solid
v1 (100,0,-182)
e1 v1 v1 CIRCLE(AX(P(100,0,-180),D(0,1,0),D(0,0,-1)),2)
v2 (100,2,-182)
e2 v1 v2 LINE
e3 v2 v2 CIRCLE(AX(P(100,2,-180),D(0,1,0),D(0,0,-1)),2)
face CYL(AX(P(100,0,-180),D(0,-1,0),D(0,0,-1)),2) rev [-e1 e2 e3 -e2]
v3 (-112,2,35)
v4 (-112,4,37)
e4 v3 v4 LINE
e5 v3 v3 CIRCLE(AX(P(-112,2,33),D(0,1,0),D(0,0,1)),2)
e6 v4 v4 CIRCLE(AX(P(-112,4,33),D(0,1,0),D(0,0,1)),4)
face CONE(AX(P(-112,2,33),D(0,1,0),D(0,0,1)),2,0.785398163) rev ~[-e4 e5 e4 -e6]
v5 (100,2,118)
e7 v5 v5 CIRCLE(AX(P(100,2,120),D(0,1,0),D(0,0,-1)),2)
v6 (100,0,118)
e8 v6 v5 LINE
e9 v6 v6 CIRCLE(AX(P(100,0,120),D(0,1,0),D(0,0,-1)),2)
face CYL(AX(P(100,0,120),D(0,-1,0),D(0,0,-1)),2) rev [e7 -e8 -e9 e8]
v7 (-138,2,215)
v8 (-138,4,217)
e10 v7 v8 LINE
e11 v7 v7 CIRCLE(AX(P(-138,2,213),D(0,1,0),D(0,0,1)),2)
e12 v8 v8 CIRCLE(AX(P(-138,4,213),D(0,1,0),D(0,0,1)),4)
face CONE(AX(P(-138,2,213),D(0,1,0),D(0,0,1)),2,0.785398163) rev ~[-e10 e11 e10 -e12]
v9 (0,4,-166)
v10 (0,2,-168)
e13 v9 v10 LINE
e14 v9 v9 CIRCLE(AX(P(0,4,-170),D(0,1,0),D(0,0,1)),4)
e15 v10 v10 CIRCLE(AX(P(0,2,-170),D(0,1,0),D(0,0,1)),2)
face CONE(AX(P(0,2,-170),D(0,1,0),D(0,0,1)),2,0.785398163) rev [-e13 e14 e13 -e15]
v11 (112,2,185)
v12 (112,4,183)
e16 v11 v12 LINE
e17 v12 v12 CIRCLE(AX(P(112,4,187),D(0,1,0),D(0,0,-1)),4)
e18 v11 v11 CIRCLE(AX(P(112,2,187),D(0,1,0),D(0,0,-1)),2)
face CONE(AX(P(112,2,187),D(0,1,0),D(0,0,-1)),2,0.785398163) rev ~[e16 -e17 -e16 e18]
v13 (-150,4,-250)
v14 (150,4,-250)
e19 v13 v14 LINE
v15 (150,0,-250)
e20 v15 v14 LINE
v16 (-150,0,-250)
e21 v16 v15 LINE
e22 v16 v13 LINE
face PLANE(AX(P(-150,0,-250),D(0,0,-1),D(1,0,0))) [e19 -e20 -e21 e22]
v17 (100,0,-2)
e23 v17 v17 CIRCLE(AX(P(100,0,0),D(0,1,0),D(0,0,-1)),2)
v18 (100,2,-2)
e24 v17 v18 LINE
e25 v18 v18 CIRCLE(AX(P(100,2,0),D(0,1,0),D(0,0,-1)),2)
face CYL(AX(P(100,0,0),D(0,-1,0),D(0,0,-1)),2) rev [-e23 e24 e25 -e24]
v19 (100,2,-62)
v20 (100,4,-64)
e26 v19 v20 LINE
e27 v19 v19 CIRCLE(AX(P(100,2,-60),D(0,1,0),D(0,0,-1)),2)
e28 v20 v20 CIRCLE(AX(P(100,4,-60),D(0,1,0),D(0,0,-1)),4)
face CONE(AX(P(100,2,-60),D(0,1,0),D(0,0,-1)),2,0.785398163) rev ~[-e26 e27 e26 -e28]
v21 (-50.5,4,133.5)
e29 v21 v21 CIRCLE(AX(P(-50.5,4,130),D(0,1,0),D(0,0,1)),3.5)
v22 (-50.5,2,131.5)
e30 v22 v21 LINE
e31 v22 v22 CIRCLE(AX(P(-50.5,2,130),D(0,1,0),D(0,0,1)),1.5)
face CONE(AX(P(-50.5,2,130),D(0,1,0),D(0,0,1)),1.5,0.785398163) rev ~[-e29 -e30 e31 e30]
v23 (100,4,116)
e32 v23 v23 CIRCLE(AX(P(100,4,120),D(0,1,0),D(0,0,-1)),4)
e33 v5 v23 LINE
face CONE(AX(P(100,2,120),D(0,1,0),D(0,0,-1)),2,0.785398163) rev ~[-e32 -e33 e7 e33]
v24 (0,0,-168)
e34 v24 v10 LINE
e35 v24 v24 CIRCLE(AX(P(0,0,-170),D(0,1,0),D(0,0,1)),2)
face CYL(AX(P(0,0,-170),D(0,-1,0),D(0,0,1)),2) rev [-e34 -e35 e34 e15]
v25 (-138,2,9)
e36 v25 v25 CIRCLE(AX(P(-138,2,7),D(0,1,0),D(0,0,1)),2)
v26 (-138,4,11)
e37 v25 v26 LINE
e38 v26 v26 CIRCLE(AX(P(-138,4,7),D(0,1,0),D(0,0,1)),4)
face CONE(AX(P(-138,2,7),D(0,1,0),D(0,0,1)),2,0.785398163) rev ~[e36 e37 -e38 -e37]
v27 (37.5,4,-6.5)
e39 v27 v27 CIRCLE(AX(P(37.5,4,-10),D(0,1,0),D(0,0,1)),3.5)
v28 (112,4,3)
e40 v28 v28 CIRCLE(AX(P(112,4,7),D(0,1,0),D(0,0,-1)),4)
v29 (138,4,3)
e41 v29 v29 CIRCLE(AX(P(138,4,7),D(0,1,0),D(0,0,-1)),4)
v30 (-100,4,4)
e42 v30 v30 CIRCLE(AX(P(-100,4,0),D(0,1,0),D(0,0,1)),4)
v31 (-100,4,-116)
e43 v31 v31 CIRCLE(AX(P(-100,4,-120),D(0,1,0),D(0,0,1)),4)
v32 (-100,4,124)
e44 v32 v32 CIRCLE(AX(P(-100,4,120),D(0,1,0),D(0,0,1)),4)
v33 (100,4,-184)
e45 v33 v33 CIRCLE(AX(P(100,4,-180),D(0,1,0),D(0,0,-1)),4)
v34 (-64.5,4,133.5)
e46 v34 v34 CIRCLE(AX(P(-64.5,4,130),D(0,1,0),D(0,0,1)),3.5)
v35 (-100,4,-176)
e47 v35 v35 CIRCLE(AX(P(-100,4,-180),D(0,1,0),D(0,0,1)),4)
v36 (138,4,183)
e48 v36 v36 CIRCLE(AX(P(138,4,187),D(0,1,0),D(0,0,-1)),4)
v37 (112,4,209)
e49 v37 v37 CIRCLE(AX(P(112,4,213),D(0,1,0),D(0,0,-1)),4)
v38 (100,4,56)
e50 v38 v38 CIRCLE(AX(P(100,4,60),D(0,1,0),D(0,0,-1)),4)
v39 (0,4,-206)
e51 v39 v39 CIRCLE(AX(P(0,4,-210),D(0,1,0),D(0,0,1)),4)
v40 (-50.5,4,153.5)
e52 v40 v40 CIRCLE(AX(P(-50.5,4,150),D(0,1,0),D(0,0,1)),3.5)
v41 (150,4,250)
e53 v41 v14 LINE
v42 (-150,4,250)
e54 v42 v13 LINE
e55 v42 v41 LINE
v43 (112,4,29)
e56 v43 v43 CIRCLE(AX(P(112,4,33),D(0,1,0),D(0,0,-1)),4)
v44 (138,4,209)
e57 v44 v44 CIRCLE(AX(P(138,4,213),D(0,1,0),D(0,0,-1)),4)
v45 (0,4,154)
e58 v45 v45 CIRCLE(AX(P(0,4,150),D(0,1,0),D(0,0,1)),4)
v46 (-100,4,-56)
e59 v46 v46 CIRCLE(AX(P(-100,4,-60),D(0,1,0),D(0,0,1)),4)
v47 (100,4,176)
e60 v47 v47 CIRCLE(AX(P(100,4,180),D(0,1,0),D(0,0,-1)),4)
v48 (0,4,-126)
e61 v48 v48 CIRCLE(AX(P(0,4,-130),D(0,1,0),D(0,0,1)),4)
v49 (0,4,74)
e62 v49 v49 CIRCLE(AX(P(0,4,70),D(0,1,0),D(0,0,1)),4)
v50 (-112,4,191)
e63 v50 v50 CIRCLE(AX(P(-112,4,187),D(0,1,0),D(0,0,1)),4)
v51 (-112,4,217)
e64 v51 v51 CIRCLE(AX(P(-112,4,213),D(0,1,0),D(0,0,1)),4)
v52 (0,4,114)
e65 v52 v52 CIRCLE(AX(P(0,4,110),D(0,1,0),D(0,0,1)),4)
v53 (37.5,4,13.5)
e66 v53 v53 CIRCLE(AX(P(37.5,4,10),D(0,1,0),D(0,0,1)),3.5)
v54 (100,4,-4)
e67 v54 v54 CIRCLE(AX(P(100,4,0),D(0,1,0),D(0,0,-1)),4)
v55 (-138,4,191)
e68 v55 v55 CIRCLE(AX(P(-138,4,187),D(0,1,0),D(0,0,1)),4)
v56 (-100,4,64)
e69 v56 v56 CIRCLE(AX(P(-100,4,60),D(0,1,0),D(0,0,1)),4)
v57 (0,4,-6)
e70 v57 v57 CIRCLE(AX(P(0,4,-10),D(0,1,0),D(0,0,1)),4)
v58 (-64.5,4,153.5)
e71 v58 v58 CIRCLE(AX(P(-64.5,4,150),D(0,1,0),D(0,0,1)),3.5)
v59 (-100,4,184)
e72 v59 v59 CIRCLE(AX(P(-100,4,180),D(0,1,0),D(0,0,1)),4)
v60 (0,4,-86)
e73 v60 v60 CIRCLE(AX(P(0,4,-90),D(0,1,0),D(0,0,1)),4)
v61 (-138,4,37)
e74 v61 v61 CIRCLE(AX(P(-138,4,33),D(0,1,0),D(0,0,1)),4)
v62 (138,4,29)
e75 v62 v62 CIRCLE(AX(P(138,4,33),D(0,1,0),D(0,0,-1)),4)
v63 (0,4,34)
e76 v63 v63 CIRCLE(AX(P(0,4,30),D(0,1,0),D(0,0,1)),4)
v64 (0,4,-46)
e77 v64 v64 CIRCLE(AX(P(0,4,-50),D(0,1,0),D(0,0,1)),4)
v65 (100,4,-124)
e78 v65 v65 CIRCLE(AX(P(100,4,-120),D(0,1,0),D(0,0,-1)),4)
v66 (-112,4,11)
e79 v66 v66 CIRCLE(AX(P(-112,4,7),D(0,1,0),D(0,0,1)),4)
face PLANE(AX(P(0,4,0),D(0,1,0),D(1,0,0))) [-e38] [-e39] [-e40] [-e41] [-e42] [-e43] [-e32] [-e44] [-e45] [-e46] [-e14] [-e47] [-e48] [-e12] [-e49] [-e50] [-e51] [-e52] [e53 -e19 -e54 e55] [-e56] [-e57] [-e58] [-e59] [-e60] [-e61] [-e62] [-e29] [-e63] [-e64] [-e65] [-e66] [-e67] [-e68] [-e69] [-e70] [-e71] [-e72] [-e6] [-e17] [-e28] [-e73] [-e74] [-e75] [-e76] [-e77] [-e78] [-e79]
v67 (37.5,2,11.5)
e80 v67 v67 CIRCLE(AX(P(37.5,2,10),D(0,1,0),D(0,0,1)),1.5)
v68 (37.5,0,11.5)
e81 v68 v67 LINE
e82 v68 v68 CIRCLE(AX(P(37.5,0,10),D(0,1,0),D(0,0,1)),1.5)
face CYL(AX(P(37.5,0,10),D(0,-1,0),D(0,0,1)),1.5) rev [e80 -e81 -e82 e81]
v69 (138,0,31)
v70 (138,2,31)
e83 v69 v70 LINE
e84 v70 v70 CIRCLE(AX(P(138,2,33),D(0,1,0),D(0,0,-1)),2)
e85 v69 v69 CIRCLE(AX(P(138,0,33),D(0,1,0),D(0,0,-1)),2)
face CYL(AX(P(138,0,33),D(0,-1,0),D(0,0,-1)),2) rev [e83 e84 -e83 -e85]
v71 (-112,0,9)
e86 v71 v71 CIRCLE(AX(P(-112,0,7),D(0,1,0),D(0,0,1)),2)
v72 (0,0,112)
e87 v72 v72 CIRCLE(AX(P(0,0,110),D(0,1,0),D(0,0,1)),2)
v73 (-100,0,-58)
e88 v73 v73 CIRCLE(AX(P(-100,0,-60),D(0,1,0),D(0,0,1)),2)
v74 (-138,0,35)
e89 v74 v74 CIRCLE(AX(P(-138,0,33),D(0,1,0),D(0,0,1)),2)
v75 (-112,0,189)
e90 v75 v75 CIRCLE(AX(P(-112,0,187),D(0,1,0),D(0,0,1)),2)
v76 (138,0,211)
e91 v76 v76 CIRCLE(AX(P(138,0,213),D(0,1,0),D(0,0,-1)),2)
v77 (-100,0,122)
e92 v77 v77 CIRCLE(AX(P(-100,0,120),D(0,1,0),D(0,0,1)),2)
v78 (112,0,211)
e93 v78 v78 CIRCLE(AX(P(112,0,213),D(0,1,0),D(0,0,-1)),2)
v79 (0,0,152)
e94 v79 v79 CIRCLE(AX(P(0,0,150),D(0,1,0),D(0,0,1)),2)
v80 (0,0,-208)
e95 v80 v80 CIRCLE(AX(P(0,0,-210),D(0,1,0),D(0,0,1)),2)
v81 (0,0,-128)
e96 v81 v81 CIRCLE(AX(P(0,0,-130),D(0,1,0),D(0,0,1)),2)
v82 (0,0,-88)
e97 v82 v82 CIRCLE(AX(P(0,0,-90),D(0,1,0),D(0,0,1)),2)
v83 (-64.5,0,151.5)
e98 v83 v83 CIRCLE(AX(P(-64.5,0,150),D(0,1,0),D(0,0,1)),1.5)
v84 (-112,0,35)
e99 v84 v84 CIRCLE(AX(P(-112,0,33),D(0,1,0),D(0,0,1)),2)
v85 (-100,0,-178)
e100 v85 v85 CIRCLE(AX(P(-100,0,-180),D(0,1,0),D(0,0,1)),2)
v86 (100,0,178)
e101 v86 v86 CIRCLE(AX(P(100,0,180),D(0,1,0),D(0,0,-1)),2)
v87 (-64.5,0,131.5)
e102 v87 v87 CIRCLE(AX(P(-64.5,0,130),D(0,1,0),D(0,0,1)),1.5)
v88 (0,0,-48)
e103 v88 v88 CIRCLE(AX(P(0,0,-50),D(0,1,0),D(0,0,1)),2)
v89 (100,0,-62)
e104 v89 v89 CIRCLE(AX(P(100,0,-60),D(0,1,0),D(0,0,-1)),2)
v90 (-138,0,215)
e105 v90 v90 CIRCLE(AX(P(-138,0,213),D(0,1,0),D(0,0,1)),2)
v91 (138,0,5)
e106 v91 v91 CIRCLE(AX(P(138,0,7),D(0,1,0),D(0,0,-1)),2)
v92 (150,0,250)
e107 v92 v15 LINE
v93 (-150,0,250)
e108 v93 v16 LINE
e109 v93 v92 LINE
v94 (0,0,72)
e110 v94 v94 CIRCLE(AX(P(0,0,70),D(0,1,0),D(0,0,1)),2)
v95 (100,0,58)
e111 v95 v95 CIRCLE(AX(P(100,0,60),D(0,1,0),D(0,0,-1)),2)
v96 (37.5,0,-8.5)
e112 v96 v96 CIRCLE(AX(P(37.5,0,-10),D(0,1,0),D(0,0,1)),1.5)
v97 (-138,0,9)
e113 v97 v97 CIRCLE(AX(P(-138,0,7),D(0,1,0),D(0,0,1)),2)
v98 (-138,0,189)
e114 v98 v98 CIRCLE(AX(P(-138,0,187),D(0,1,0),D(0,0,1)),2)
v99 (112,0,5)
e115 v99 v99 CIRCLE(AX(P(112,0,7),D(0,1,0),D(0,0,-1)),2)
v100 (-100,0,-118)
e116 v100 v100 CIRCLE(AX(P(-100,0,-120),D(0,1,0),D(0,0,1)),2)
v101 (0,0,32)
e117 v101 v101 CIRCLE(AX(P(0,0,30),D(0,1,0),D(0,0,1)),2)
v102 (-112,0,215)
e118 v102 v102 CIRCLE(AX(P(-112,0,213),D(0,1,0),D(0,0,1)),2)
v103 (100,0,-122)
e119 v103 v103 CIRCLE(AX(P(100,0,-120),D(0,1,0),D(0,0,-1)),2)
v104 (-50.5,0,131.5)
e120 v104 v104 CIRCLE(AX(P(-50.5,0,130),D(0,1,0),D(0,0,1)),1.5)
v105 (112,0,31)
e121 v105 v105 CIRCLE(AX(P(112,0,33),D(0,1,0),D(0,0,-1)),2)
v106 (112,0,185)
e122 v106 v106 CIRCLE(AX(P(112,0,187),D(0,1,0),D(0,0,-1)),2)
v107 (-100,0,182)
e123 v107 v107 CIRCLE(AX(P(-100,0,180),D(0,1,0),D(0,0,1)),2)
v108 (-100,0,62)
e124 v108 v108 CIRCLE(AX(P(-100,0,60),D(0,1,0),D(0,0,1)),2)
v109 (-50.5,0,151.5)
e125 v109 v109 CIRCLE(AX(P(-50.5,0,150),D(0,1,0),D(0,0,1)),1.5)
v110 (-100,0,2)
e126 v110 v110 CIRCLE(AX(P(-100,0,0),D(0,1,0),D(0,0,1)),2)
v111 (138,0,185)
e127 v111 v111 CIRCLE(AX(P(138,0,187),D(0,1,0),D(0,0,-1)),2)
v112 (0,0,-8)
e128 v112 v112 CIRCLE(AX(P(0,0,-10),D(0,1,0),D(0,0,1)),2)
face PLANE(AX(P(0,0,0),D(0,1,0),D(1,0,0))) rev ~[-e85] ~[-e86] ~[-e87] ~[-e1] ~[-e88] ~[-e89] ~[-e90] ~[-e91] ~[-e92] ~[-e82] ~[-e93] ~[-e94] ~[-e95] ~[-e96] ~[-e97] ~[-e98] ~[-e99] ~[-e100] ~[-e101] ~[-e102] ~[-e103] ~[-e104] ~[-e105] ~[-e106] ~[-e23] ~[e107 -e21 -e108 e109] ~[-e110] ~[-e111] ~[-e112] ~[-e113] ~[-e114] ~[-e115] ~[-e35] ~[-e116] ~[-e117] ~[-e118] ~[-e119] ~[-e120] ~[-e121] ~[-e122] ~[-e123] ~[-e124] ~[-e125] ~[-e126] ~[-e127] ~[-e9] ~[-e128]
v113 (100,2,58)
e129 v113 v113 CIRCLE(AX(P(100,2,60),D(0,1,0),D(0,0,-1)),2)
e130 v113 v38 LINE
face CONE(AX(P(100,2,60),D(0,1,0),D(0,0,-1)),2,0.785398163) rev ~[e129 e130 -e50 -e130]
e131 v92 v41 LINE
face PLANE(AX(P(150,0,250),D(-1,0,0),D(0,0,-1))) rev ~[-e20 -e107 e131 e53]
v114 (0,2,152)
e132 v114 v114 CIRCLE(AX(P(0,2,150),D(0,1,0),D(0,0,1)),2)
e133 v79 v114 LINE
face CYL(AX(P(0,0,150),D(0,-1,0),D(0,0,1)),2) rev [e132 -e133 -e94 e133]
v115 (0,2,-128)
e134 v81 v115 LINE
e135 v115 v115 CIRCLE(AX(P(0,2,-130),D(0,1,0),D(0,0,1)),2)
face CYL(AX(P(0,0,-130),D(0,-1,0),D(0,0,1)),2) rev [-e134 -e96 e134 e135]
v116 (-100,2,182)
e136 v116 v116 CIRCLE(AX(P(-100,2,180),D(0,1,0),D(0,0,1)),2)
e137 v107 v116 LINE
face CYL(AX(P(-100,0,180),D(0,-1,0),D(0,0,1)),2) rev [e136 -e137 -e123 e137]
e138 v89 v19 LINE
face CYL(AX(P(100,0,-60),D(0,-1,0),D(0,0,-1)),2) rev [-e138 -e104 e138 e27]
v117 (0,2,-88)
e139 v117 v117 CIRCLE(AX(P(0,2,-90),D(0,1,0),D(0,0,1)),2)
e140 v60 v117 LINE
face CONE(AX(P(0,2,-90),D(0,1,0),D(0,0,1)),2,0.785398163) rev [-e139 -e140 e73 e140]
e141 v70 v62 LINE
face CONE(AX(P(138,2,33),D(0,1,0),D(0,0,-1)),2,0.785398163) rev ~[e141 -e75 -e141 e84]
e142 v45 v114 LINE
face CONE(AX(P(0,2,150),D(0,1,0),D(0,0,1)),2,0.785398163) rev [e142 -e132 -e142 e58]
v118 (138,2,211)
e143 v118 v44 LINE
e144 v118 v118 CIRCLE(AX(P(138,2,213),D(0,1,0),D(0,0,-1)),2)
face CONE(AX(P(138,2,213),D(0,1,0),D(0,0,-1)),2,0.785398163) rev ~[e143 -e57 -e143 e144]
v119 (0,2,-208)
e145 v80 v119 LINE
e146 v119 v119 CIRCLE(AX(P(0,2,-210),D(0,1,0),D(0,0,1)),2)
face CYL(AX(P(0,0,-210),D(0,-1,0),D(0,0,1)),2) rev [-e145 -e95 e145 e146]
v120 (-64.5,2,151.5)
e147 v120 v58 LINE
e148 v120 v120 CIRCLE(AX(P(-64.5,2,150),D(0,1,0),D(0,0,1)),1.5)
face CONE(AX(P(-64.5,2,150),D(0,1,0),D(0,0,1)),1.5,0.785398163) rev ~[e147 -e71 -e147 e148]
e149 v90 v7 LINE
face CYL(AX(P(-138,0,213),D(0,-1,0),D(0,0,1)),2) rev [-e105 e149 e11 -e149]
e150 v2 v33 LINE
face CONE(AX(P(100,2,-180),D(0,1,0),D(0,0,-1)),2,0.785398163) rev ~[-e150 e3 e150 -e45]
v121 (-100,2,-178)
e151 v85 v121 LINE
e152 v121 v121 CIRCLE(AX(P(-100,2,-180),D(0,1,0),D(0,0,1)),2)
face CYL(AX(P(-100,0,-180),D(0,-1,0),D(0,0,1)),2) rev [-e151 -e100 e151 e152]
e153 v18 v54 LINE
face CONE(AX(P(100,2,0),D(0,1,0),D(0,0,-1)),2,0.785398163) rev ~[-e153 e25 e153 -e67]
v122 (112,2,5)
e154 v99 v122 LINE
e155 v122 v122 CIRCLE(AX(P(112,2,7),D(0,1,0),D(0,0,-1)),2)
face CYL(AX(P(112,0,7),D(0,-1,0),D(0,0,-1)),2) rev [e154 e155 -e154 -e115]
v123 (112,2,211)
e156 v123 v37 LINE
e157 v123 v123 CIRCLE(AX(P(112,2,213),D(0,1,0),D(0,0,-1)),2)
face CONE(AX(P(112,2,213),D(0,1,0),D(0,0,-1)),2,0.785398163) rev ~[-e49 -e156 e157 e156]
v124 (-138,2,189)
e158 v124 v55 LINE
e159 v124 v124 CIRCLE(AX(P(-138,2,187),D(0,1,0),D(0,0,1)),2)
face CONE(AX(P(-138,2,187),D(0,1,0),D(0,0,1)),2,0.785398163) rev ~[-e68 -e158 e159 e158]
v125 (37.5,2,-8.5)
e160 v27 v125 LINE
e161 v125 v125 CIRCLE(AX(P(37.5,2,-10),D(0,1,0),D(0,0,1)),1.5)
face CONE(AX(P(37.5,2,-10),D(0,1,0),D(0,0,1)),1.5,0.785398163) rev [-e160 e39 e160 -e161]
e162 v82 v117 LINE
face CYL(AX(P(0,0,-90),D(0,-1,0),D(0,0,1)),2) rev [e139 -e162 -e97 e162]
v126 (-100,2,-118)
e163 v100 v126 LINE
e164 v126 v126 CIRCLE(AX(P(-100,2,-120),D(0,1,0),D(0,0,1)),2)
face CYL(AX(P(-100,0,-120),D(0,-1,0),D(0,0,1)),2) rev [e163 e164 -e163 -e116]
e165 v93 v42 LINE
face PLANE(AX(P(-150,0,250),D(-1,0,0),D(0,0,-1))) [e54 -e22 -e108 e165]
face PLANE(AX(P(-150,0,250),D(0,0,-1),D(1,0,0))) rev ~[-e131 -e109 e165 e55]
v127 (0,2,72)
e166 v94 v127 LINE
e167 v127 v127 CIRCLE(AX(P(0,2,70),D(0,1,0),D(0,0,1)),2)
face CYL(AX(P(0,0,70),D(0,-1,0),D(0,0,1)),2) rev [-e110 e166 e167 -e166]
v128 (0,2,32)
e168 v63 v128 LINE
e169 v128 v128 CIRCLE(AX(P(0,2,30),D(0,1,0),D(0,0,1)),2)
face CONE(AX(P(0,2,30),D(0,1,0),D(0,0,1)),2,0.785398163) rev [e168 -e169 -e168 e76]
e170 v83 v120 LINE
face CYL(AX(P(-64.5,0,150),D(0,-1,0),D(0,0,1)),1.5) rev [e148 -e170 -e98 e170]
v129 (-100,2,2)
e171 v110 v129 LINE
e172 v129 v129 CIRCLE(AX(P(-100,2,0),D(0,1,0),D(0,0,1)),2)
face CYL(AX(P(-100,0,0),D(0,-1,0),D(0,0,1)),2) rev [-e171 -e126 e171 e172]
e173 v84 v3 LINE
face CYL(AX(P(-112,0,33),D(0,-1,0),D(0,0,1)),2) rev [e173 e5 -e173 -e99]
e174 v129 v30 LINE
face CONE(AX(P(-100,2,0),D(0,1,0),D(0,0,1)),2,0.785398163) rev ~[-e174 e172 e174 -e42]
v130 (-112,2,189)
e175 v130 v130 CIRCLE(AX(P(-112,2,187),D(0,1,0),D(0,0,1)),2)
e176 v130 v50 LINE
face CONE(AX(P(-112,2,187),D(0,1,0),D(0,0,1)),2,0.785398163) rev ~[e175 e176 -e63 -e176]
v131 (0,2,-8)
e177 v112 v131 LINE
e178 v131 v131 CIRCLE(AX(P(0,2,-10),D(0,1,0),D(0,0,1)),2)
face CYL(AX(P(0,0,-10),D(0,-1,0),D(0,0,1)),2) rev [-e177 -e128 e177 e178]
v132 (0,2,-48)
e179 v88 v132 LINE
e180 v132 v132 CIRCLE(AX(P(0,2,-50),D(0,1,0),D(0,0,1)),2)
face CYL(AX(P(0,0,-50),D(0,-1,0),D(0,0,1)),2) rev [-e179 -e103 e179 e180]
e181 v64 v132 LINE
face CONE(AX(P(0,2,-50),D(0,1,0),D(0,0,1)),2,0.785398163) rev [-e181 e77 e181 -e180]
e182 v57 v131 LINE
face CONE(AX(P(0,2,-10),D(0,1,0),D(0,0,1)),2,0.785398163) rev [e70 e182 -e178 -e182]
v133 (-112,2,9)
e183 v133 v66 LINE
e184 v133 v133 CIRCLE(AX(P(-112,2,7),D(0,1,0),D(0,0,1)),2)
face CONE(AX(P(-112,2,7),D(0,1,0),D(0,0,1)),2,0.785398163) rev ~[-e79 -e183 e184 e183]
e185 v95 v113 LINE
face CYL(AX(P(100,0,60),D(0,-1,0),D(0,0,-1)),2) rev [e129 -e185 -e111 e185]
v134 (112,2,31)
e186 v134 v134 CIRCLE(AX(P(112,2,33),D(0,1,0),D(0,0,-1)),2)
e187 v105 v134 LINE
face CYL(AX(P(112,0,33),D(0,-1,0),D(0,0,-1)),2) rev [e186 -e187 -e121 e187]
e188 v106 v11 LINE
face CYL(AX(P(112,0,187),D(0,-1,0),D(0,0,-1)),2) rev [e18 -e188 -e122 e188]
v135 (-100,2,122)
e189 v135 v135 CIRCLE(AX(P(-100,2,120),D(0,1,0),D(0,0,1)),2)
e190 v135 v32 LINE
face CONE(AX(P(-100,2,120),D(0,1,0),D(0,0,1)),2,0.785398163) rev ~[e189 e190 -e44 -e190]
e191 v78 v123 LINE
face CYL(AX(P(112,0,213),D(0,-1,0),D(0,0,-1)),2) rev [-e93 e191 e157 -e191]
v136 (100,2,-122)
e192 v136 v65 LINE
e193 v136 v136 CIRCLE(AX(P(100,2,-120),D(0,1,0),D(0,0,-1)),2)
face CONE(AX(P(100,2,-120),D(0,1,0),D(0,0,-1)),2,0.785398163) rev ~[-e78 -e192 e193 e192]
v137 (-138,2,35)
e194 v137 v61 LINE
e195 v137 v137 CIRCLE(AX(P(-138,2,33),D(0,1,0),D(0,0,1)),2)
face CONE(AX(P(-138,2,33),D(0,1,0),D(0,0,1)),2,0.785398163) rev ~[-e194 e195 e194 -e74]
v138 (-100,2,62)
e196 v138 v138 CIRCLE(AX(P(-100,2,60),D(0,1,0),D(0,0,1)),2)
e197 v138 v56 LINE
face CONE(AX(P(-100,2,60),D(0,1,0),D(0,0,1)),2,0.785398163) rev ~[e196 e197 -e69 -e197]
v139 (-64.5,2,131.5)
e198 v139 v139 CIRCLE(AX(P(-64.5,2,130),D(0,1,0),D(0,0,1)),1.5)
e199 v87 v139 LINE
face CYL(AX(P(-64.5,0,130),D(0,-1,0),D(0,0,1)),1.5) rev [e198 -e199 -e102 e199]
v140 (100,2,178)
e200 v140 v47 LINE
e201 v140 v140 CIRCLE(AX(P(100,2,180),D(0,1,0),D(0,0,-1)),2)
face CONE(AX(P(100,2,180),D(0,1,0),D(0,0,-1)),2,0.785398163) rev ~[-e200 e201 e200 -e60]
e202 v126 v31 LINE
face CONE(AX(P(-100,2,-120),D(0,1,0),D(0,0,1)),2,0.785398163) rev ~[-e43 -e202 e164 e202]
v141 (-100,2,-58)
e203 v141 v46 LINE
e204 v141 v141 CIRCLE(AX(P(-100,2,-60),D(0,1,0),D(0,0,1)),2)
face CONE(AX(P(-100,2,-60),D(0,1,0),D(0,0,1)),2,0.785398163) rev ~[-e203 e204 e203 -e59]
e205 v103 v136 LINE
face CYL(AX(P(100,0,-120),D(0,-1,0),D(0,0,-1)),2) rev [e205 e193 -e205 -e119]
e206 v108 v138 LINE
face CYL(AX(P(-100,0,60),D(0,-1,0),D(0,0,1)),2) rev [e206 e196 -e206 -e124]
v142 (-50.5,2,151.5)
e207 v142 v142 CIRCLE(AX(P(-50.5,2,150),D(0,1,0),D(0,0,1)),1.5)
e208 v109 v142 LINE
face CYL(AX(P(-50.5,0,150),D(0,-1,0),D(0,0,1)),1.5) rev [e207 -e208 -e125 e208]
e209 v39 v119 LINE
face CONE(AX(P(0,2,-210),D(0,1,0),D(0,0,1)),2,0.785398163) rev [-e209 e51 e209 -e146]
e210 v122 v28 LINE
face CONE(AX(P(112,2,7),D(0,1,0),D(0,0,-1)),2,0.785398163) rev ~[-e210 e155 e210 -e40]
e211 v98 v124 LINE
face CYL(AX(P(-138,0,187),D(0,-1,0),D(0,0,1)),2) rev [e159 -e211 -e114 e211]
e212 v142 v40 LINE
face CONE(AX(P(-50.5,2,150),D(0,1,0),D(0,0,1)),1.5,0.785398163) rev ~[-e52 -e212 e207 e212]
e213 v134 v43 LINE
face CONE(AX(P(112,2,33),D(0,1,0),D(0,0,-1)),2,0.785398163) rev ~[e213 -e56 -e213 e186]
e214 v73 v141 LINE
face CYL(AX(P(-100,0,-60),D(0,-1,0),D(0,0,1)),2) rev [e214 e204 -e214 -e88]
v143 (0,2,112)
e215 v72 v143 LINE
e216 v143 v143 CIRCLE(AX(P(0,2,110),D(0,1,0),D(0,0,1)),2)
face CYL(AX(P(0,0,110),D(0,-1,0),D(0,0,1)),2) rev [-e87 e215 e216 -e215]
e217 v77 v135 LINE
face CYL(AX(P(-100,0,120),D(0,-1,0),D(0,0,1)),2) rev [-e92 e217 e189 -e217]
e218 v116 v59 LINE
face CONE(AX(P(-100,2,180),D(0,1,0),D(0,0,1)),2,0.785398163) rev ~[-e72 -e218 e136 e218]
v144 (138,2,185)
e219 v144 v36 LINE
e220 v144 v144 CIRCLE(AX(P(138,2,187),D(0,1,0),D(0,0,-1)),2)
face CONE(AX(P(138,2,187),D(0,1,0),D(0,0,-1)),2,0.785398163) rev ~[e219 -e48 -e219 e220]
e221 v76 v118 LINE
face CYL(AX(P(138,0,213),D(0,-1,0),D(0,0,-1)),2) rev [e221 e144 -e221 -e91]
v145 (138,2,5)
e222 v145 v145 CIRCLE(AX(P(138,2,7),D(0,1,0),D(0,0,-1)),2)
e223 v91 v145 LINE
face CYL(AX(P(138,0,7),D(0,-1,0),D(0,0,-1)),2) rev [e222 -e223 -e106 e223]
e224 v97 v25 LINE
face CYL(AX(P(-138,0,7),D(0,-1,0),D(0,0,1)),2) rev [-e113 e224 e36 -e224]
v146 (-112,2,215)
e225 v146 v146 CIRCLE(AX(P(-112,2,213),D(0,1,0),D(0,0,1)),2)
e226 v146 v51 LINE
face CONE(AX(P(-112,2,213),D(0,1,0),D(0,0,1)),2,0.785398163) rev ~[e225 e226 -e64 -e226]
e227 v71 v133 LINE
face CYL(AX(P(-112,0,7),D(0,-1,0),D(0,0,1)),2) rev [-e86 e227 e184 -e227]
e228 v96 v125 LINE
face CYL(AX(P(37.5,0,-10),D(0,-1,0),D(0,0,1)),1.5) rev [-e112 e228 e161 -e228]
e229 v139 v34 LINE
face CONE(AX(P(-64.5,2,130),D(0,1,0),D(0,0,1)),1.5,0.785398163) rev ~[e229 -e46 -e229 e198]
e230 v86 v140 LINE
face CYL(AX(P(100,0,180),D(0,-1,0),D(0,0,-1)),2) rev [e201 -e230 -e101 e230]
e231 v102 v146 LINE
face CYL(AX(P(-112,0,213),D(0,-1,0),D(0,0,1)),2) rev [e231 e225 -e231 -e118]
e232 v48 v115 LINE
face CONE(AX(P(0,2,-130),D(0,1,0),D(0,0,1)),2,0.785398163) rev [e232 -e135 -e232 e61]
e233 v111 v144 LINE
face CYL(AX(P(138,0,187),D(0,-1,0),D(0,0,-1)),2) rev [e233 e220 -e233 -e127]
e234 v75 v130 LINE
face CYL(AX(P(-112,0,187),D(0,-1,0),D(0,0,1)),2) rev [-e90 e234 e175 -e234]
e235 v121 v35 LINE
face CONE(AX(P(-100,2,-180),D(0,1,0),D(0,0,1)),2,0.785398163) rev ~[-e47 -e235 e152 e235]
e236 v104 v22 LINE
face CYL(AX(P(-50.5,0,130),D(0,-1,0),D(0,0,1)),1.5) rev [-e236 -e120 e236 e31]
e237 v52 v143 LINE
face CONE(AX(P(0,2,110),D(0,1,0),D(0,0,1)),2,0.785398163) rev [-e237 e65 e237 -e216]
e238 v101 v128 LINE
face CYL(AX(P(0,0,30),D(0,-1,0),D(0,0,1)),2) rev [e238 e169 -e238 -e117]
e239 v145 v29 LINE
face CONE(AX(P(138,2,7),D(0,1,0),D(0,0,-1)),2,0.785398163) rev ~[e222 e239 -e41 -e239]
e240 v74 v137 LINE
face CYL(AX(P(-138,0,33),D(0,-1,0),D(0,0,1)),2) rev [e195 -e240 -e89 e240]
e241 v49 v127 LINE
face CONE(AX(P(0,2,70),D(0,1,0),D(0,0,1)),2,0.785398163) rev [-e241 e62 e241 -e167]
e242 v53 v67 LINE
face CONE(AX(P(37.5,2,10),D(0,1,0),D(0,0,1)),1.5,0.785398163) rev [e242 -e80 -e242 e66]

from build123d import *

# Parameters (mm, degrees)
SKETCH_1_W      = 300
SKETCH_1_H      = 500
SKETCH_1_R      = 2
SKETCH_1_R_2    = 1.5
EXTRUDE_1_DEPTH = 4
CHAMFER_1_SIZE  = 2
CHAMFER_2_SIZE  = 2


with BuildPart() as part:
    # 草图1 → 凸台-拉伸1 (new body)
    with BuildSketch(Plane(origin=(0, 0, 0), x_dir=(1, 0, 0), z_dir=(0, 1, 0))):
        Rectangle(SKETCH_1_W, SKETCH_1_H)
        with Locations(Location((-138, -213, 0), (0, 0, 270))):
            Circle(SKETCH_1_R, mode=Mode.SUBTRACT)
        with Locations(Location((-112, -213, 0), (0, 0, 270))):
            Circle(SKETCH_1_R, mode=Mode.SUBTRACT)
        with Locations(Location((-138, -187, 0), (0, 0, 270))):
            Circle(SKETCH_1_R, mode=Mode.SUBTRACT)
        with Locations(Location((-112, -187, 0), (0, 0, 270))):
            Circle(SKETCH_1_R, mode=Mode.SUBTRACT)
        with Locations(Location((-112, -33, 0), (0, 0, 270))):
            Circle(SKETCH_1_R, mode=Mode.SUBTRACT)
        with Locations(Location((-138, -7, 0), (0, 0, 270))):
            Circle(SKETCH_1_R, mode=Mode.SUBTRACT)
        with Locations(Location((-138, -33, 0), (0, 0, 270))):
            Circle(SKETCH_1_R, mode=Mode.SUBTRACT)
        with Locations(Location((-112, -7, 0), (0, 0, 270))):
            Circle(SKETCH_1_R, mode=Mode.SUBTRACT)
        with Locations(Location((112, -7, 0), (0, 0, 90))):
            Circle(SKETCH_1_R, mode=Mode.SUBTRACT)
        with Locations(Location((138, -33, 0), (0, 0, 90))):
            Circle(SKETCH_1_R, mode=Mode.SUBTRACT)
        with Locations(Location((138, -7, 0), (0, 0, 90))):
            Circle(SKETCH_1_R, mode=Mode.SUBTRACT)
        with Locations(Location((112, -33, 0), (0, 0, 90))):
            Circle(SKETCH_1_R, mode=Mode.SUBTRACT)
        with Locations(Location((112, -187, 0), (0, 0, 90))):
            Circle(SKETCH_1_R, mode=Mode.SUBTRACT)
        with Locations(Location((138, -187, 0), (0, 0, 90))):
            Circle(SKETCH_1_R, mode=Mode.SUBTRACT)
        with Locations(Location((112, -213, 0), (0, 0, 90))):
            Circle(SKETCH_1_R, mode=Mode.SUBTRACT)
        with Locations(Location((138, -213, 0), (0, 0, 90))):
            Circle(SKETCH_1_R, mode=Mode.SUBTRACT)
        with Locations(Location((-64.5, -130, 0), (0, 0, 270))):
            Circle(SKETCH_1_R_2, mode=Mode.SUBTRACT)
        with Locations(Location((-50.5, -130, 0), (0, 0, 270))):
            Circle(SKETCH_1_R_2, mode=Mode.SUBTRACT)
        with Locations(Location((-64.5, -150, 0), (0, 0, 270))):
            Circle(SKETCH_1_R_2, mode=Mode.SUBTRACT)
        with Locations(Location((-50.5, -150, 0), (0, 0, 270))):
            Circle(SKETCH_1_R_2, mode=Mode.SUBTRACT)
        with Locations(Location((-100, -180, 0), (0, 0, 270))):
            Circle(SKETCH_1_R, mode=Mode.SUBTRACT)
        with Locations(Location((-100, -120, 0), (0, 0, 270))):
            Circle(SKETCH_1_R, mode=Mode.SUBTRACT)
        with Locations(Location((-100, -60, 0), (0, 0, 270))):
            Circle(SKETCH_1_R, mode=Mode.SUBTRACT)
        with Locations(Location((-100, 0, 0), (0, 0, 270))):
            Circle(SKETCH_1_R, mode=Mode.SUBTRACT)
        with Locations(Location((-100, 60, 0), (0, 0, 270))):
            Circle(SKETCH_1_R, mode=Mode.SUBTRACT)
        with Locations(Location((-100, 120, 0), (0, 0, 270))):
            Circle(SKETCH_1_R, mode=Mode.SUBTRACT)
        with Locations(Location((-100, 180, 0), (0, 0, 270))):
            Circle(SKETCH_1_R, mode=Mode.SUBTRACT)
        with Locations(Location((100, -120, 0), (0, 0, 90))):
            Circle(SKETCH_1_R, mode=Mode.SUBTRACT)
        with Locations(Location((100, 180, 0), (0, 0, 90))):
            Circle(SKETCH_1_R, mode=Mode.SUBTRACT)
        with Locations(Location((100, 120, 0), (0, 0, 90))):
            Circle(SKETCH_1_R, mode=Mode.SUBTRACT)
        with Locations(Location((100, 60, 0), (0, 0, 90))):
            Circle(SKETCH_1_R, mode=Mode.SUBTRACT)
        with Locations(Location((100, 0, 0), (0, 0, 90))):
            Circle(SKETCH_1_R, mode=Mode.SUBTRACT)
        with Locations(Location((100, -60, 0), (0, 0, 90))):
            Circle(SKETCH_1_R, mode=Mode.SUBTRACT)
        with Locations(Location((100, -180, 0), (0, 0, 90))):
            Circle(SKETCH_1_R, mode=Mode.SUBTRACT)
        with Locations(Location((0, -150, 0), (0, 0, 270))):
            Circle(SKETCH_1_R, mode=Mode.SUBTRACT)
        with Locations(Location((0, -110, 0), (0, 0, 270))):
            Circle(SKETCH_1_R, mode=Mode.SUBTRACT)
        with Locations(Location((0, -70, 0), (0, 0, 270))):
            Circle(SKETCH_1_R, mode=Mode.SUBTRACT)
        with Locations(Location((0, -30, 0), (0, 0, 270))):
            Circle(SKETCH_1_R, mode=Mode.SUBTRACT)
        with Locations(Location((0, 10, 0), (0, 0, 270))):
            Circle(SKETCH_1_R, mode=Mode.SUBTRACT)
        with Locations(Location((0, 50, 0), (0, 0, 270))):
            Circle(SKETCH_1_R, mode=Mode.SUBTRACT)
        with Locations(Location((0, 90, 0), (0, 0, 270))):
            Circle(SKETCH_1_R, mode=Mode.SUBTRACT)
        with Locations(Location((0, 130, 0), (0, 0, 270))):
            Circle(SKETCH_1_R, mode=Mode.SUBTRACT)
        with Locations(Location((0, 170, 0), (0, 0, 270))):
            Circle(SKETCH_1_R, mode=Mode.SUBTRACT)
        with Locations(Location((0, 210, 0), (0, 0, 270))):
            Circle(SKETCH_1_R, mode=Mode.SUBTRACT)
        with Locations(Location((37.5, -10, 0), (0, 0, 270))):
            Circle(SKETCH_1_R_2, mode=Mode.SUBTRACT)
        with Locations(Location((37.5, 10, 0), (0, 0, 270))):
            Circle(SKETCH_1_R_2, mode=Mode.SUBTRACT)
    extrude(amount=EXTRUDE_1_DEPTH)

    # 倒角1
    chamfer_1_edges = [part.edges().sort_by_distance(p)[0] for p in [
        (-100, 4, -2),
        (-100, 4, -62),
        (-100, 4, -122),
        (-100, 4, -182),
        (100, 4, 122),
        (100, 4, -178),
        (100, 4, -118),
        (100, 4, -58),
        (-138, 4, 211),
        (100, 4, 2),
        (100, 4, 62),
        (100, 4, 182),
        (-112, 4, 211),
        (-138, 4, 185),
        (-112, 4, 185),
        (-138, 4, 31),
        (-112, 4, 31),
        (-138, 4, 5),
        (-112, 4, 5),
        (-64.5, 4, 128.5),
        (112, 4, 9),
        (138, 4, 35),
        (138, 4, 9),
        (112, 4, 35),
        (112, 4, 189),
        (138, 4, 189),
        (112, 4, 215),
        (138, 4, 215),
        (-50.5, 4, 128.5),
        (-64.5, 4, 148.5),
        (-50.5, 4, 148.5),
        (-100, 4, 178),
        (-100, 4, 118),
        (-100, 4, 58),
    ]]
    chamfer(chamfer_1_edges, length=CHAMFER_1_SIZE)

    # 倒角2
    chamfer_2_edges = [part.edges().sort_by_distance(p)[0] for p in [
        (0, 4, 148),
        (37.5, 4, 8.5),
        (0, 4, 108),
        (0, 4, 68),
        (0, 4, 28),
        (0, 4, -12),
        (0, 4, -52),
        (0, 4, -92),
        (0, 4, -132),
        (0, 4, -172),
        (0, 4, -212),
        (37.5, 4, -11.5),
    ]]
    chamfer(chamfer_2_edges, length=CHAMFER_2_SIZE)


solid = part.part
